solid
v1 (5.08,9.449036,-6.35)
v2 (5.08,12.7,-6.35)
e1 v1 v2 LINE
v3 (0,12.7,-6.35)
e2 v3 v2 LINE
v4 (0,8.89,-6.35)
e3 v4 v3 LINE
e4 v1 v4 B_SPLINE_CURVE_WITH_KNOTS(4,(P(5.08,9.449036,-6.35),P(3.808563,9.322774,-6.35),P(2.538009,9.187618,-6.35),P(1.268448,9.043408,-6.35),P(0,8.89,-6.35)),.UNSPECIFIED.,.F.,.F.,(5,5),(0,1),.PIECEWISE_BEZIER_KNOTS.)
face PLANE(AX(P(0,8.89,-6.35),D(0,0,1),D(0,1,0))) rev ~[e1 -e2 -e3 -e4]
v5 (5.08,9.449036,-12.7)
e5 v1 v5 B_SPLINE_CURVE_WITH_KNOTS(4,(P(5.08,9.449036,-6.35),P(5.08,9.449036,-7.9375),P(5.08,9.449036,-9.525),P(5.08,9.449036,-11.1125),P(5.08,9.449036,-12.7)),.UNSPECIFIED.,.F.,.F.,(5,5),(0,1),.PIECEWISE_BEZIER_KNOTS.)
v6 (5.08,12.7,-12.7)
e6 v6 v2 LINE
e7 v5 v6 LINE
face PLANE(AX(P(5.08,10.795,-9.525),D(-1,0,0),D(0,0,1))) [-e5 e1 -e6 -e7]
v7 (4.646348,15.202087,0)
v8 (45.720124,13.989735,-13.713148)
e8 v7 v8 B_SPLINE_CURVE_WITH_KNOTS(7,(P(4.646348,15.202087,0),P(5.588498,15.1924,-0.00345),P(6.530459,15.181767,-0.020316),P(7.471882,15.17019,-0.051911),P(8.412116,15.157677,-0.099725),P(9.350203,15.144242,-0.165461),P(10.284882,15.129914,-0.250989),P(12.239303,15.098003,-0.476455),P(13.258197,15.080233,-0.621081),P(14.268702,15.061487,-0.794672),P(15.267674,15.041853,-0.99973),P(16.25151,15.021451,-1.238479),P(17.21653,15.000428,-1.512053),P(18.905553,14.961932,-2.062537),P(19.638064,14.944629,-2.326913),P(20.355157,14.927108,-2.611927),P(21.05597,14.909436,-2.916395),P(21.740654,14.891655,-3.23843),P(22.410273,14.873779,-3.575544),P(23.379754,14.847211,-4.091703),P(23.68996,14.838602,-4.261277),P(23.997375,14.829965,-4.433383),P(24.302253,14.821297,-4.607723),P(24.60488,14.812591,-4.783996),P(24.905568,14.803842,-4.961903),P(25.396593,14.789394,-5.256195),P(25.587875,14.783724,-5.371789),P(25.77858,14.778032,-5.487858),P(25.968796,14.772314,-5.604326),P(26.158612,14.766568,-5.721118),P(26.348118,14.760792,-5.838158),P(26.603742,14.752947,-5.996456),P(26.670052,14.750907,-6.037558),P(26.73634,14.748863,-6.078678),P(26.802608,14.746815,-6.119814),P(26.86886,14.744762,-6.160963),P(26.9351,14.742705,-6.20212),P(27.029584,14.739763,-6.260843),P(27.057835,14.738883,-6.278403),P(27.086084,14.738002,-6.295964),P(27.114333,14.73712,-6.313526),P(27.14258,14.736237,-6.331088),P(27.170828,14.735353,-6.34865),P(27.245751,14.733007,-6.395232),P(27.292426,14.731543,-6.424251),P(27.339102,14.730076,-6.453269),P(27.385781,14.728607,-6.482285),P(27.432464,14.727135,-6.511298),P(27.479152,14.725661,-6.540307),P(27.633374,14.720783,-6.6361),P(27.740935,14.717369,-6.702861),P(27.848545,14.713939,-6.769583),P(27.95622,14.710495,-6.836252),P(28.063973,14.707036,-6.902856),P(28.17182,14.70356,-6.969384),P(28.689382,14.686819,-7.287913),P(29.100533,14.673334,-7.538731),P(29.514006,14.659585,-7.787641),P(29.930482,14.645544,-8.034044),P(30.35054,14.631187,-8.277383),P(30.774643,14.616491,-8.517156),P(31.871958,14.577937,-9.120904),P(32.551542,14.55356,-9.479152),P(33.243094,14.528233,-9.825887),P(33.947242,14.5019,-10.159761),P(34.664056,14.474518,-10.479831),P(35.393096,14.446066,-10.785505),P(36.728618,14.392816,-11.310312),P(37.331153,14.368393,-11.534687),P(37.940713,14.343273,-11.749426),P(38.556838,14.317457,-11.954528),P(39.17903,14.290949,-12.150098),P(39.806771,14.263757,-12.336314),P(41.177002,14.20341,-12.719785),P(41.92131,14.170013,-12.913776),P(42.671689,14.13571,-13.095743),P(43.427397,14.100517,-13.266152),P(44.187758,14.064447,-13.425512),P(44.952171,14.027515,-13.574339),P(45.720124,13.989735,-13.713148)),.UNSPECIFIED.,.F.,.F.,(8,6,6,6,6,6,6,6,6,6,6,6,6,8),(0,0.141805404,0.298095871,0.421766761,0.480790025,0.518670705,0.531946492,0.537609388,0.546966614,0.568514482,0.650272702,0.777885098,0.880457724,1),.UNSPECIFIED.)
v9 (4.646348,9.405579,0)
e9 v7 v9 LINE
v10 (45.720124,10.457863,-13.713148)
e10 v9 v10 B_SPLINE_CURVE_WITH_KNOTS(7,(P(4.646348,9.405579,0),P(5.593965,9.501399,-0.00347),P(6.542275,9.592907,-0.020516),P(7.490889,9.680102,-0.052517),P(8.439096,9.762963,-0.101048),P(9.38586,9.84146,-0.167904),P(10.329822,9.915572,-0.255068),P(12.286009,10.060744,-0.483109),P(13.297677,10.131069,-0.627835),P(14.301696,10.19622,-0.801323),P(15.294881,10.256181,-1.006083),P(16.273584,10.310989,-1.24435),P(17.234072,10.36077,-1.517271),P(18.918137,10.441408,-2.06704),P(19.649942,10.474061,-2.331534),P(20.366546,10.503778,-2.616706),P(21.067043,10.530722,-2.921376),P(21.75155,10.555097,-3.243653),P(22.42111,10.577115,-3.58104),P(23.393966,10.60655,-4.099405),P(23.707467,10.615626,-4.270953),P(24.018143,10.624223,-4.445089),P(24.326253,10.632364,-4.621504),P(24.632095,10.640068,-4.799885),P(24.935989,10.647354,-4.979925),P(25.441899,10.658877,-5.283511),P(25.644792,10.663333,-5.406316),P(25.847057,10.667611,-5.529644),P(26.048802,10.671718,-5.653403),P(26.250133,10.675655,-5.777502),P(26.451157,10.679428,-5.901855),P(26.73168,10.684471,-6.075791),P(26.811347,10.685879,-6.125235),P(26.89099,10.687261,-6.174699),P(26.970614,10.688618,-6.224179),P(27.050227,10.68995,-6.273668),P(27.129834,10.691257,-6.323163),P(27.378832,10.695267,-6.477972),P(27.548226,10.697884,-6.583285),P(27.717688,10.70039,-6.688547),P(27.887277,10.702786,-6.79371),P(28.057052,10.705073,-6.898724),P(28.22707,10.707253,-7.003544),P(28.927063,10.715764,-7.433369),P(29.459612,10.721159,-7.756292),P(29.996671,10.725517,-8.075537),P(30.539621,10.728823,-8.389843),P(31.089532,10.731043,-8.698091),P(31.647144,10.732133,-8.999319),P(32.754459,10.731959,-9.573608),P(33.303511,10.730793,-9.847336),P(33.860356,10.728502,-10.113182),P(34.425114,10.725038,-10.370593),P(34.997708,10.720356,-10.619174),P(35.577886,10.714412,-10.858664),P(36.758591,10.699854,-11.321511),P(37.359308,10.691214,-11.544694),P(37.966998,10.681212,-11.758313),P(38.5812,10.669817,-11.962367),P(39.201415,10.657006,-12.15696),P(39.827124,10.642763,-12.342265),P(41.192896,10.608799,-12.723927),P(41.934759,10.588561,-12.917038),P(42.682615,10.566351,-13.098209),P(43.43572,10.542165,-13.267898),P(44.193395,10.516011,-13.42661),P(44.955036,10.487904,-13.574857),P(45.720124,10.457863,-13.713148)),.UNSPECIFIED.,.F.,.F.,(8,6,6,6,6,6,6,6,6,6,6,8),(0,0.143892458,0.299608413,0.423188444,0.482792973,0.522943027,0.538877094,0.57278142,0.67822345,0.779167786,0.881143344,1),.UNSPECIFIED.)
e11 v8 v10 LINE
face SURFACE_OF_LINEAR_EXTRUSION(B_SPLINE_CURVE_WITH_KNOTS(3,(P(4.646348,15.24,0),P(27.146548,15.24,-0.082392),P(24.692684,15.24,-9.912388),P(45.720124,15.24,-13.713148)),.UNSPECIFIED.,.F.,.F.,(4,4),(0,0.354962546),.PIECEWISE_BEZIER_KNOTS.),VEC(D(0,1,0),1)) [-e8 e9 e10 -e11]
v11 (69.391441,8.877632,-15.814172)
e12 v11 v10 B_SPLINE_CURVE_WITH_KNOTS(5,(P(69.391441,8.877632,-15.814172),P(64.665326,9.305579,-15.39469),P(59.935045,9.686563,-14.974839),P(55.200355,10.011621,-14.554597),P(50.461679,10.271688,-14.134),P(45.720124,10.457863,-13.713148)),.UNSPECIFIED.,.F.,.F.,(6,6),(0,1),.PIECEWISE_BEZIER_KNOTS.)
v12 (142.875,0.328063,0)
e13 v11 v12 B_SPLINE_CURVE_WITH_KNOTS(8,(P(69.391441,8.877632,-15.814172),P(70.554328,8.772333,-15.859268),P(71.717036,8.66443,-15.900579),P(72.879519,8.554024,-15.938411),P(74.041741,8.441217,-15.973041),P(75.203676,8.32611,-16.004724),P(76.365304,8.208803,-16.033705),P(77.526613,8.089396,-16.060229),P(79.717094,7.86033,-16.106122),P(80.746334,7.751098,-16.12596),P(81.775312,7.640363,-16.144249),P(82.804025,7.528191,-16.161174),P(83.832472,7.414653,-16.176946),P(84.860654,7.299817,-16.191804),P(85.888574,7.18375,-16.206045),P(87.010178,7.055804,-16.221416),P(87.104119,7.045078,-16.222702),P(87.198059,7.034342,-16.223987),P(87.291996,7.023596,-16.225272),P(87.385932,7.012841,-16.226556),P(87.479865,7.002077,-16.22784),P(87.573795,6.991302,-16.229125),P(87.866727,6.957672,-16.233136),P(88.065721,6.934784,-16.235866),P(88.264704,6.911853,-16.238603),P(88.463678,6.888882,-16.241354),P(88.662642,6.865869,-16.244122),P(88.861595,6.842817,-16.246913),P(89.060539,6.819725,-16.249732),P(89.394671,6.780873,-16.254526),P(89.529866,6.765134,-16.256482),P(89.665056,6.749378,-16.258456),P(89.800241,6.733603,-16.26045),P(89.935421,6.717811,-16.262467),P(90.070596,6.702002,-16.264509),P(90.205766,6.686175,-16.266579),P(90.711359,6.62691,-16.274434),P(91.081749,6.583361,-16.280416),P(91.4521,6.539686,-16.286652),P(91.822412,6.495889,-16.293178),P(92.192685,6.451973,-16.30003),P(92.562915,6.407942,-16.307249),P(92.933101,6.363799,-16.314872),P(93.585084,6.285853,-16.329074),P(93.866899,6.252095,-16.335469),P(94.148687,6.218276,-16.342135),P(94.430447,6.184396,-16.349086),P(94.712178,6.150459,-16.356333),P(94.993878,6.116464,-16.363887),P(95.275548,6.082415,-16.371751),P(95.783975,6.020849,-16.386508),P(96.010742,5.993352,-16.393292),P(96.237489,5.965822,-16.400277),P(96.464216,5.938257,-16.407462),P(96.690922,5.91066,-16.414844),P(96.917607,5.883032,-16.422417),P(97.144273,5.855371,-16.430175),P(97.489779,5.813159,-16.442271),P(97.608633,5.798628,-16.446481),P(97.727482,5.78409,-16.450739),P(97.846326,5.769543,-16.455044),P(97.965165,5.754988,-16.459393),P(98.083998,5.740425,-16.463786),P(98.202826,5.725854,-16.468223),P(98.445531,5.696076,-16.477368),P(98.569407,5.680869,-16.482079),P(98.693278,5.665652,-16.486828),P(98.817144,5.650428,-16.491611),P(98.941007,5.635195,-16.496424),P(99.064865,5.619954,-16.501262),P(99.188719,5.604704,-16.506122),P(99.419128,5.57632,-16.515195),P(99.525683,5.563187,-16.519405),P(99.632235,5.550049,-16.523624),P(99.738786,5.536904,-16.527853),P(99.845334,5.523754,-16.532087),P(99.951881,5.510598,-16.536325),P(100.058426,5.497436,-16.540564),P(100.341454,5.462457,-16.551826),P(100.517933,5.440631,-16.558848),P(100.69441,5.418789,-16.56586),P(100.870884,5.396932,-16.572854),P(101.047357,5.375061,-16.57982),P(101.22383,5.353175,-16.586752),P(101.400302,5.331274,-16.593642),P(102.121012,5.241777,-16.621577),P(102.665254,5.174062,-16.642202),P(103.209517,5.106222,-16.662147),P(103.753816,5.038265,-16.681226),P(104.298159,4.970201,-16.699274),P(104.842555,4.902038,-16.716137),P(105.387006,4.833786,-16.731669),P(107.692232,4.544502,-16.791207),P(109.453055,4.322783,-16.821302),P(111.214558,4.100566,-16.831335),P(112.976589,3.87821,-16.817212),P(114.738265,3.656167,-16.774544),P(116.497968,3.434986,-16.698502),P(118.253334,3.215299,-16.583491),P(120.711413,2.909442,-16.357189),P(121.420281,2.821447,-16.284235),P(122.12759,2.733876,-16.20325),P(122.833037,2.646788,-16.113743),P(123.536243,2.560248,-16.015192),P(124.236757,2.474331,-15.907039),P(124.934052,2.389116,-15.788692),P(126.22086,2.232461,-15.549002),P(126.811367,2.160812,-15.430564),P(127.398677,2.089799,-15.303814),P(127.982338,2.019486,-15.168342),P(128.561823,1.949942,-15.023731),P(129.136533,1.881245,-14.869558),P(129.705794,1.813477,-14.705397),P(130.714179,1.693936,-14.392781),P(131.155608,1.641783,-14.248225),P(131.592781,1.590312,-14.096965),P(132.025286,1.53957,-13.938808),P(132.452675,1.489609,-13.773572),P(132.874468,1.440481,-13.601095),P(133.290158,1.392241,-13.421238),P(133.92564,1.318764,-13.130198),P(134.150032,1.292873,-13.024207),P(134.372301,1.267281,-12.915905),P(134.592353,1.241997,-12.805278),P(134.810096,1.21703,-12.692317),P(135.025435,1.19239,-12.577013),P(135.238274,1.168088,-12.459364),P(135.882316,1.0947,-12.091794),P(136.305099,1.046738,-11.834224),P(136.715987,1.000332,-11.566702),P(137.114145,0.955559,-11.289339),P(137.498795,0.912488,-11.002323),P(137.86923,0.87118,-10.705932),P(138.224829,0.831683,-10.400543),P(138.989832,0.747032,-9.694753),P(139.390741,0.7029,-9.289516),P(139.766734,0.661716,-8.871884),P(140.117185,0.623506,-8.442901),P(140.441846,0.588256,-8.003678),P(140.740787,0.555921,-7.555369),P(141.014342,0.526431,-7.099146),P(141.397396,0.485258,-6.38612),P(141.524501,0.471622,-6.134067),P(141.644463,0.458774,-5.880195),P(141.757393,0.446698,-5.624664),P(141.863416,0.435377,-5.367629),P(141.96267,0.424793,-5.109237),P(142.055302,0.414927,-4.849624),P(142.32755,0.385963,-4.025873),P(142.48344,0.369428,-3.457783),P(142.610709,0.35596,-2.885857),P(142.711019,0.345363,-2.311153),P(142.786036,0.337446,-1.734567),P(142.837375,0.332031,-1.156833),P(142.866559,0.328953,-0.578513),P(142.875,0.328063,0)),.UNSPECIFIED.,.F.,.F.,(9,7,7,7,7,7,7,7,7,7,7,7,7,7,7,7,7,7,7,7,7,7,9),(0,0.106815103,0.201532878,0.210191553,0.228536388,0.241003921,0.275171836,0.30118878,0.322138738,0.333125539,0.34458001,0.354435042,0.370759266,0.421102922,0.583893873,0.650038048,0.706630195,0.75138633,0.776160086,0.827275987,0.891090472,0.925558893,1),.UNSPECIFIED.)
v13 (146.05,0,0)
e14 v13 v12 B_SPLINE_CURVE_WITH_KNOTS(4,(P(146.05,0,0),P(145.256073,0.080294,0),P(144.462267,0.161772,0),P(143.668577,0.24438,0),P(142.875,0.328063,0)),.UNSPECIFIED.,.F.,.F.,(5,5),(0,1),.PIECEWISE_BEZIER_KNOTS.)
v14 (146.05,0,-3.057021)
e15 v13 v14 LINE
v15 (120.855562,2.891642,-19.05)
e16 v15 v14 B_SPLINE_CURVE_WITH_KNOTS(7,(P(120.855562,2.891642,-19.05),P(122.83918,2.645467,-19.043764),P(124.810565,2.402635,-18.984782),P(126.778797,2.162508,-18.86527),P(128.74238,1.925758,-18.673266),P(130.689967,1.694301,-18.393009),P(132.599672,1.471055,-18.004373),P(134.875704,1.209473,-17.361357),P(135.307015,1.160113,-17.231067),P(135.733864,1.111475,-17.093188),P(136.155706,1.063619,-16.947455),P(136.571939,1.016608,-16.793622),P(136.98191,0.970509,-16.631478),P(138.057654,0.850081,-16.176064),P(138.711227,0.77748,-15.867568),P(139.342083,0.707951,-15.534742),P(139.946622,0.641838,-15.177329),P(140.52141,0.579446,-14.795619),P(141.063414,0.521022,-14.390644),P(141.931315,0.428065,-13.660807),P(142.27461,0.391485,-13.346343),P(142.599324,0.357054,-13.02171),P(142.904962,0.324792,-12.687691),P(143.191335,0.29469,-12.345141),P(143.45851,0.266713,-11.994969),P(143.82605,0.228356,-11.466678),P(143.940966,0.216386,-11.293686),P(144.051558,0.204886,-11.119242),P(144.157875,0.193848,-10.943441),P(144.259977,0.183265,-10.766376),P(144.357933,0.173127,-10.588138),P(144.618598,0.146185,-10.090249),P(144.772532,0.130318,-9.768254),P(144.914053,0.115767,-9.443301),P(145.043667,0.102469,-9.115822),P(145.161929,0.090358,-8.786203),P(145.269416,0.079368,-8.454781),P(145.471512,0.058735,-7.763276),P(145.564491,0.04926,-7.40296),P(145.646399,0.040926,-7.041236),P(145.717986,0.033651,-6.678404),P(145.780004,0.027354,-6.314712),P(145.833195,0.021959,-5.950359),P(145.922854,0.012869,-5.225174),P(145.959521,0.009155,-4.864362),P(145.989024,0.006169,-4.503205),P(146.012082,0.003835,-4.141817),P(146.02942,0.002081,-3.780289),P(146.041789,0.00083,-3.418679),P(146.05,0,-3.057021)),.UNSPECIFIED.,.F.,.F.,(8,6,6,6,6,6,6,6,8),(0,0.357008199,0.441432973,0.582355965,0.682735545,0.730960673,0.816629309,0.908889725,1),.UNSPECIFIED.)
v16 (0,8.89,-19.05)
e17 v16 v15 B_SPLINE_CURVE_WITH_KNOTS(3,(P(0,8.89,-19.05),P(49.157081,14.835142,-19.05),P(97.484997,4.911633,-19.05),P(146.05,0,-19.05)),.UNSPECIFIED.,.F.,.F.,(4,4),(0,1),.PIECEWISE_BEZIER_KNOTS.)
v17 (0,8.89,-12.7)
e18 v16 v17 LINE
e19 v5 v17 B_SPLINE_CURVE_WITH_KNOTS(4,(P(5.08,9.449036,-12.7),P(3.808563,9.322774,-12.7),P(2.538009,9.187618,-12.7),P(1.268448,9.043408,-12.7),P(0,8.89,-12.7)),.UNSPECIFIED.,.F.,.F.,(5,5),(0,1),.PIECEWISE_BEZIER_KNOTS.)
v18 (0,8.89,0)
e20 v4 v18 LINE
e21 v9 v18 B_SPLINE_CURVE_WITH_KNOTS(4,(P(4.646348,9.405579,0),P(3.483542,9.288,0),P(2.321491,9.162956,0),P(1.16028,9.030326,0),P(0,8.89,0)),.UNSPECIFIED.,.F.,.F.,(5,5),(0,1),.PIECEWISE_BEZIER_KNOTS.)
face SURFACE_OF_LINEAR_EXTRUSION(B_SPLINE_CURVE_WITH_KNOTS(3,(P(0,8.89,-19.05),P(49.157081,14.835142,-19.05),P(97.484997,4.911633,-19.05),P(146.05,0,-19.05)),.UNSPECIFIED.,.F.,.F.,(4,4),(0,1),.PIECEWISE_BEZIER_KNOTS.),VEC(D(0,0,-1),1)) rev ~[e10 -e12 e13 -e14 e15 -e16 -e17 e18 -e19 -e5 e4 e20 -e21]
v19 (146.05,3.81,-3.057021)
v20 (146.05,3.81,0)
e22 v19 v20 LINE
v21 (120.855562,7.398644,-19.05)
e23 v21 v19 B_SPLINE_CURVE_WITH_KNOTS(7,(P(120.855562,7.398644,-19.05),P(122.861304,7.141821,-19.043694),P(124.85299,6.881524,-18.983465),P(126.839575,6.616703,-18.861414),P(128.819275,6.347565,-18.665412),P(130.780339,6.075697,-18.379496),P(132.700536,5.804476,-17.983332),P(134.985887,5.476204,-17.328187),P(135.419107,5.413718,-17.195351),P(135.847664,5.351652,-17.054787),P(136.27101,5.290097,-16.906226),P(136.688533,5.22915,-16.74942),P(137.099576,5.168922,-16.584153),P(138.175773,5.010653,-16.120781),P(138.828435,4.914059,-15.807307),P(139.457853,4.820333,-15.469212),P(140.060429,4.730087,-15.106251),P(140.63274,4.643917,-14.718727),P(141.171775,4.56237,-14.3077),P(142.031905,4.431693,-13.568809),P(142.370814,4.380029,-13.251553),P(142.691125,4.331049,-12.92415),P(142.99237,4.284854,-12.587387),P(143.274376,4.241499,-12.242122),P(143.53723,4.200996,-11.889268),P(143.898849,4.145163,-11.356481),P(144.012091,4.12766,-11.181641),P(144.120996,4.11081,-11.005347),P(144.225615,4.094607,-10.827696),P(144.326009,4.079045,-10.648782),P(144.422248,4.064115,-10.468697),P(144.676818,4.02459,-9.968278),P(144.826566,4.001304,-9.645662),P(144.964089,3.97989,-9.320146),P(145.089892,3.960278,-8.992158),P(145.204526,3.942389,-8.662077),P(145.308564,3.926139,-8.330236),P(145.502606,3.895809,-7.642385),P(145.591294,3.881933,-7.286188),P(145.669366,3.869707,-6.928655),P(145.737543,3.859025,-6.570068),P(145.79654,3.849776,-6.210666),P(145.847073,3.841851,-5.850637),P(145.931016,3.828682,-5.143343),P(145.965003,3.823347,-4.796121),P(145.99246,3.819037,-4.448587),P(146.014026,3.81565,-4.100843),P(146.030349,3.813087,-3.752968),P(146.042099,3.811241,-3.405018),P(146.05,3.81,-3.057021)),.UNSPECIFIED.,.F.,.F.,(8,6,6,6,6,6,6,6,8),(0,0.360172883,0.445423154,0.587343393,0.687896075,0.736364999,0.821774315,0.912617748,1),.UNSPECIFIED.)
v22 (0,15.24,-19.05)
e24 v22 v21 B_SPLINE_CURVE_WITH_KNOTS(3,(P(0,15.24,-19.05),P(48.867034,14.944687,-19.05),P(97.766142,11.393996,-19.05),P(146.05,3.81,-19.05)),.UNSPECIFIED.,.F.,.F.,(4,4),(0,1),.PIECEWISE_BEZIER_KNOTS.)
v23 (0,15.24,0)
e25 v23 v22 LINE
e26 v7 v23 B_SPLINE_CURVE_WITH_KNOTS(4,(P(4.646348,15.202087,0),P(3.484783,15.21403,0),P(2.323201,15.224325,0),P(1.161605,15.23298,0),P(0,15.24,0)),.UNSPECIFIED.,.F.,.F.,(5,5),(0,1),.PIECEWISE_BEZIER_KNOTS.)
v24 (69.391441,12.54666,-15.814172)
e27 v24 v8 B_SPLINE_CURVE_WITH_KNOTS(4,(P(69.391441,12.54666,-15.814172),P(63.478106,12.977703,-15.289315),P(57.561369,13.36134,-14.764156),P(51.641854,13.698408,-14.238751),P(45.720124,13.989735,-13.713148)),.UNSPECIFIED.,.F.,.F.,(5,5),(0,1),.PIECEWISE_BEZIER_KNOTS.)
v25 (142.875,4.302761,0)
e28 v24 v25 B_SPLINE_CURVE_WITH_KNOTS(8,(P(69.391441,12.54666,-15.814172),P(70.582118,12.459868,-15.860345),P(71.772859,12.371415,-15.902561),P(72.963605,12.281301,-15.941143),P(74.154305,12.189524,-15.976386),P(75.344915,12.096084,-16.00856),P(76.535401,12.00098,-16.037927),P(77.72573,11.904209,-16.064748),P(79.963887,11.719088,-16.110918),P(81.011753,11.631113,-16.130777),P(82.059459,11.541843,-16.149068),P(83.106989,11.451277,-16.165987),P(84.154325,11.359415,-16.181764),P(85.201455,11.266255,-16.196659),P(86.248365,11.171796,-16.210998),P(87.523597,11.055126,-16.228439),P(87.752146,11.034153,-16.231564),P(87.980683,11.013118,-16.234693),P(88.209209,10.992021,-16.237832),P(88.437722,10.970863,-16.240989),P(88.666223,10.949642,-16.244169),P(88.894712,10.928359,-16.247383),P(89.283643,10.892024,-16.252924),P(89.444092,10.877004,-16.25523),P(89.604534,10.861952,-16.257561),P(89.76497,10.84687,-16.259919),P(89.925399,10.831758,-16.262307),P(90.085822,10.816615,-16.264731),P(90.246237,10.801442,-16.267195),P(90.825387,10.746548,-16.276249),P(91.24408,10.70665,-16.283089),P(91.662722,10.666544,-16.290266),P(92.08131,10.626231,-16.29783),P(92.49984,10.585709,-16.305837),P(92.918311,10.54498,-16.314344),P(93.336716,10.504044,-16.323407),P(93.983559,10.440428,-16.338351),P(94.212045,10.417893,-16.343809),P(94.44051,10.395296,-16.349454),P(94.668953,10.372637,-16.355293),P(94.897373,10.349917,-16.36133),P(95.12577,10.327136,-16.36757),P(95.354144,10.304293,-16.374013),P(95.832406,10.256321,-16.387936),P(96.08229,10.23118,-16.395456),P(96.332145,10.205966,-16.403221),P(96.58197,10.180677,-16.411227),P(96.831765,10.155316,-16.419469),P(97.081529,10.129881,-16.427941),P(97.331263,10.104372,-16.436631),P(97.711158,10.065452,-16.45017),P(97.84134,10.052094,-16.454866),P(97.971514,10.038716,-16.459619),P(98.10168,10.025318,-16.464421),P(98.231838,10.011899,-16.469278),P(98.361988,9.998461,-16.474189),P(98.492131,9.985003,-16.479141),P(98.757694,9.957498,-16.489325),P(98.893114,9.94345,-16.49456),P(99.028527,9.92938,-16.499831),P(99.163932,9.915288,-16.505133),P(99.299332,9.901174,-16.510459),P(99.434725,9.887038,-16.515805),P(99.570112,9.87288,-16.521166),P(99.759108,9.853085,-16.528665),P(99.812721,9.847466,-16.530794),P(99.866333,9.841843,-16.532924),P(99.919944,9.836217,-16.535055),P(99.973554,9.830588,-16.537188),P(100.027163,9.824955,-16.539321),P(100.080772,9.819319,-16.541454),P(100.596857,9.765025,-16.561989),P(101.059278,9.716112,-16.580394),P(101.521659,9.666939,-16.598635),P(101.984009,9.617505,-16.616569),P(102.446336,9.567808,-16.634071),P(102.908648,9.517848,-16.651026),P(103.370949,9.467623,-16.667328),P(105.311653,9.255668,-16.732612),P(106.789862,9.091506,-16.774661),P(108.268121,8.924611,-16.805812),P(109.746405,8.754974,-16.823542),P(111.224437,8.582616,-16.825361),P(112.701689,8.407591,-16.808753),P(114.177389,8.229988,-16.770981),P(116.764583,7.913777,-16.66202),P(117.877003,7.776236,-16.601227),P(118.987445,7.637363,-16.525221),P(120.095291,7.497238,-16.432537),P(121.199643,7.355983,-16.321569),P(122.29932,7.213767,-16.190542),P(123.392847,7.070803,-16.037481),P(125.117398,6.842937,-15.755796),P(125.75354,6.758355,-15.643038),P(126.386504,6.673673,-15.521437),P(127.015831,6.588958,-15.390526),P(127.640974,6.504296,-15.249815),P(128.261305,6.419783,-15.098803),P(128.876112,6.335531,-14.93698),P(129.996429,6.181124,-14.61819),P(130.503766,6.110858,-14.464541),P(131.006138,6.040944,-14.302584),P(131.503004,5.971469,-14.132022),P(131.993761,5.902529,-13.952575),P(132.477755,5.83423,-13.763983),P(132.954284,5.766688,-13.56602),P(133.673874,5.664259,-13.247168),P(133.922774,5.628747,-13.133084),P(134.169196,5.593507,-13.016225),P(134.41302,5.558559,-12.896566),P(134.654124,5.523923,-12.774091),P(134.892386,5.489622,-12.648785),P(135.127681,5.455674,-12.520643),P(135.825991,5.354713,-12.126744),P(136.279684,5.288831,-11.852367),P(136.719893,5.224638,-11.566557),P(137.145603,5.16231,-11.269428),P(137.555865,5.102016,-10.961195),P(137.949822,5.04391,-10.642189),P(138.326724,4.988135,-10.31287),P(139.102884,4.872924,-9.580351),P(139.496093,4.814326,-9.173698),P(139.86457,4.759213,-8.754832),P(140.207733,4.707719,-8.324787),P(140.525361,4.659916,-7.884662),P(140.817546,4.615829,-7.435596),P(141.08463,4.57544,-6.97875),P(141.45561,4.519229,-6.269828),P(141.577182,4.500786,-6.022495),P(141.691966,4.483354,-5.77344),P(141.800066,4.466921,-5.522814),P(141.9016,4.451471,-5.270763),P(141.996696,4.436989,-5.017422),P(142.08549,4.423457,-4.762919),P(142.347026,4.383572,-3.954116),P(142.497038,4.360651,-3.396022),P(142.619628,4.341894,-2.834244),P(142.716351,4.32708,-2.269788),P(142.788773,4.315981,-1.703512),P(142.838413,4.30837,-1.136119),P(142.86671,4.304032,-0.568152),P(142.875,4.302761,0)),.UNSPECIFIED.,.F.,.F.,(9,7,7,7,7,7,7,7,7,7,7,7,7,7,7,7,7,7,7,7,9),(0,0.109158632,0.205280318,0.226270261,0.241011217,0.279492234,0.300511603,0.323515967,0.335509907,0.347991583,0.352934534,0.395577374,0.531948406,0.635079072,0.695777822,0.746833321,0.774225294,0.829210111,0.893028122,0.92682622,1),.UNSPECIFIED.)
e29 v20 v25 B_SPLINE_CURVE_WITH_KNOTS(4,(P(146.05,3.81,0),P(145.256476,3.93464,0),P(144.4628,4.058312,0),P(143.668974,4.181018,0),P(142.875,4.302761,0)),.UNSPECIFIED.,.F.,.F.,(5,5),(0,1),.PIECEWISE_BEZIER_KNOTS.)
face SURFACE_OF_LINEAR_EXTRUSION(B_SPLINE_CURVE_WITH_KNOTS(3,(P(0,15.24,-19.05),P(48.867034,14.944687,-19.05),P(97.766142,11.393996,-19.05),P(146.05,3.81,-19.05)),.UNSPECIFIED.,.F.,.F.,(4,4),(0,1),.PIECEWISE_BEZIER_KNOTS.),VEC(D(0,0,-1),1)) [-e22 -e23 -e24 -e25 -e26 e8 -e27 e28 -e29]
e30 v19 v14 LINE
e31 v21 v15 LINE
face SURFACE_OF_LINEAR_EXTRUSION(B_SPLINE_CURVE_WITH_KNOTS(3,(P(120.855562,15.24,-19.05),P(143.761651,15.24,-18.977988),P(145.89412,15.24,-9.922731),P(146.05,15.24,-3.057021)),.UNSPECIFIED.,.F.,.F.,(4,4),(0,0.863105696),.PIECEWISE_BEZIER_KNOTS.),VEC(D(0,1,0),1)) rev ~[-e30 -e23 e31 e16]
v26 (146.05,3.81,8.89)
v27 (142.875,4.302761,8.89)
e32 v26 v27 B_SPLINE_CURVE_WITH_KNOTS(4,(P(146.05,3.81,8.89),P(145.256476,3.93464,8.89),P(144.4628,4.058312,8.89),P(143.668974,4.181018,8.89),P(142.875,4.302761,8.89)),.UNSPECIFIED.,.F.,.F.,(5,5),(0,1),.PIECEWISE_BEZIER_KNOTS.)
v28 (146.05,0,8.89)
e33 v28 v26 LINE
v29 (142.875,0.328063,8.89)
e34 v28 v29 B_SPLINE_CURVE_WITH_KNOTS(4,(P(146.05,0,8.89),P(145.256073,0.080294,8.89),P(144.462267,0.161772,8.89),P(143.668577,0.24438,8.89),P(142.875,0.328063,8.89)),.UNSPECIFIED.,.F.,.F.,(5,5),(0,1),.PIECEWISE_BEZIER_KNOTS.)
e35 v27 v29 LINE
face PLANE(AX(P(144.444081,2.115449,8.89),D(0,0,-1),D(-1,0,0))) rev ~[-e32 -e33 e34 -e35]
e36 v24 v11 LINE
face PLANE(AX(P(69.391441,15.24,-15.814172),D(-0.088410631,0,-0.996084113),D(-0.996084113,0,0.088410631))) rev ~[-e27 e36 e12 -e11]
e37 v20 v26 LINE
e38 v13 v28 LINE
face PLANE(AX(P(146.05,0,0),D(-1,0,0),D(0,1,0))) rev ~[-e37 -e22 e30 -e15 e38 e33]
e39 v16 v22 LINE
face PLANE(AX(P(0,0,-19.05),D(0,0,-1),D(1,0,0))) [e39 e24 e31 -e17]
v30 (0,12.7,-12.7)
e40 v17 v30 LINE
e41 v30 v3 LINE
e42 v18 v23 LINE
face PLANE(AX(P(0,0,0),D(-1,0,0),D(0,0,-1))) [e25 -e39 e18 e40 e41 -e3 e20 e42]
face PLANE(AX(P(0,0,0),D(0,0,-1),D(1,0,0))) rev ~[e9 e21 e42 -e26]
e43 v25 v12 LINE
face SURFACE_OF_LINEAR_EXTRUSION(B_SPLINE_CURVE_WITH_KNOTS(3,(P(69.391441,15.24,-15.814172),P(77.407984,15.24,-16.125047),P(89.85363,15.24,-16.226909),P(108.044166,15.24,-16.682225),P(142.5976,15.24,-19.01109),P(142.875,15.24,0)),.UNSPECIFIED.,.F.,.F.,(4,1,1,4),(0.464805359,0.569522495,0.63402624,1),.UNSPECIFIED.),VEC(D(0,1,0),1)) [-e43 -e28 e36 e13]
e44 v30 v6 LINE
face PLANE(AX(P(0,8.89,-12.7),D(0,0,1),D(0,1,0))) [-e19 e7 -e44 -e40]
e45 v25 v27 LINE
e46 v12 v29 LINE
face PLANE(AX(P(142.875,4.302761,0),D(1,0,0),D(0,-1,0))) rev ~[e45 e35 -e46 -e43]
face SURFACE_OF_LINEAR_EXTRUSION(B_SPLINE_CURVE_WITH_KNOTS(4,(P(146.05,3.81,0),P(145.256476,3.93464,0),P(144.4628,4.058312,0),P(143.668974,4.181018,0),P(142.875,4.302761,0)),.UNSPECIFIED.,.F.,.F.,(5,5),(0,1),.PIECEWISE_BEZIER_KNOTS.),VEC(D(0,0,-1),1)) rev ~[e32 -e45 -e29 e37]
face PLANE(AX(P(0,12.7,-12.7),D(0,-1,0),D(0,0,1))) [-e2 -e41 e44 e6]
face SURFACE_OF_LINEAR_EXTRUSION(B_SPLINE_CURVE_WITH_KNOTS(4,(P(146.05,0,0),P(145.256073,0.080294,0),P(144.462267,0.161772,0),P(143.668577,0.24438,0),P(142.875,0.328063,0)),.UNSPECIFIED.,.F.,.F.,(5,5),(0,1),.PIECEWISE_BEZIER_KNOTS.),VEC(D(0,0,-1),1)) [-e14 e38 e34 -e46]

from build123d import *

# Parameters (mm, degrees)
SKETCH1_W           = 146.05
SKETCH1_H           = 19.05
BOSS_EXTRUDE1_DEPTH = 15.24
CUT_EXTRUDE2_DEPTH  = 19.05
CUT_EXTRUDE3_DEPTH  = 149.073504166
SKETCH5_W           = 6.35
SKETCH5_H           = 3.81
CUT_EXTRUDE4_DEPTH  = 5.08
BOSS_EXTRUDE2_DEPTH = 8.89


with BuildPart() as part:
    # Sketch1 → Boss-Extrude1 (new body)
    with BuildSketch(Plane(origin=(0, 0, 0), x_dir=(1, 0, 0), z_dir=(0, 1, 0))):
        with Locations((73.025, 9.525)):
            Rectangle(SKETCH1_W, SKETCH1_H)
    extrude(amount=BOSS_EXTRUDE1_DEPTH)

    # Sketch4 → Cut-Extrude2 (cut)
    with BuildSketch(Plane(origin=(0, 15.24, 0), x_dir=(1, 0, 0), z_dir=(0, 1, 0))):
        with BuildLine():
            add(Edge.make_bspline(
                [(4.646347869, 0), (27.146548215, 0.082392024), (24.692683865, 9.912388059), (45.7201241, 13.713148425)],
                knots=[0, 0, 0, 0, 0.354962546, 0.354962546, 0.354962546, 0.354962546], degree=3))
            Line((4.646347869, 0), (142.875, 0))
            add(Edge.make_bspline(
                [(69.391440705, 15.814171824), (77.407984115, 16.125047145), (89.853629785, 16.2269087), (108.044166199, 16.682225268), (142.597599885, 19.01108954), (142.875, 0)],
                knots=[0.464805359, 0.464805359, 0.464805359, 0.464805359, 0.569522495, 0.63402624, 1, 1, 1, 1], degree=3))
            Line((69.391440705, 15.814171824), (45.7201241, 13.713148425))
        make_face()
        with BuildLine():
            add(Edge.make_bspline(
                [(120.855562162, 19.05), (143.761651025, 18.977988367), (145.894119739, 9.922730541), (146.05, 3.057021482)],
                knots=[0, 0, 0, 0, 0.863105696, 0.863105696, 0.863105696, 0.863105696], degree=3))
            Line((146.05, 3.057021482), (146.05, 19.05))
            Line((146.05, 19.05), (120.855562162, 19.05))
        make_face()
    extrude(amount=-CUT_EXTRUDE2_DEPTH, mode=Mode.SUBTRACT)

    # Sketch3 → Cut-Extrude3 (cut, through all)
    with BuildSketch(Plane(origin=(0, 0, -19.05), x_dir=(-1, 0, 0), z_dir=(0, 0, -1))):
        with BuildLine():
            Line((0, 0), (0, 8.89))
            add(Edge.make_bspline(
                [(0, 8.89), (-49.15708128, 14.835142216), (-97.484997273, 4.911633358), (-146.05, 0)],
                knots=[0, 0, 0, 0, 1, 1, 1, 1], degree=3))
            Line((-146.05, 0), (0, 0))
        make_face()
        with BuildLine():
            add(Edge.make_bspline(
                [(0, 15.24), (-48.867034278, 14.944686699), (-97.766141765, 11.393996233), (-146.05, 3.81)],
                knots=[0, 0, 0, 0, 1, 1, 1, 1], degree=3))
            Line((0, 15.24), (-146.05, 15.24))
            Line((-146.05, 15.24), (-146.05, 3.81))
        make_face()
    extrude(amount=-CUT_EXTRUDE3_DEPTH, mode=Mode.SUBTRACT)

    # Sketch5 → Cut-Extrude4 (cut)
    with BuildSketch(Plane.ZY):
        with Locations((-9.525, 10.795)):
            Rectangle(SKETCH5_W, SKETCH5_H)
    extrude(amount=-CUT_EXTRUDE4_DEPTH, mode=Mode.SUBTRACT)

    # Sketch7 → Boss-Extrude2 (add)
    with BuildSketch(Plane.XY):
        with BuildLine():
            add(Edge.make_bspline(
                [(146.05, 0), (145.256073372, 0.080293963), (144.462266504, 0.161772098), (143.668576555, 0.244379923), (142.875, 0.328063112)],
                knots=[0, 0, 0, 0, 0, 1, 1, 1, 1, 1], degree=4))
            Line((146.05, 0), (146.05, 3.81))
            add(Edge.make_bspline(
                [(146.05, 3.81), (145.256475872, 3.934639667), (144.462799753, 4.058311672), (143.668973763, 4.181017973), (142.875, 4.302760535)],
                knots=[0, 0, 0, 0, 0, 1, 1, 1, 1, 1], degree=4))
            Line((142.875, 4.302760535), (142.875, 0.328063112))
        make_face()
    extrude(amount=BOSS_EXTRUDE2_DEPTH)


solid = part.part
